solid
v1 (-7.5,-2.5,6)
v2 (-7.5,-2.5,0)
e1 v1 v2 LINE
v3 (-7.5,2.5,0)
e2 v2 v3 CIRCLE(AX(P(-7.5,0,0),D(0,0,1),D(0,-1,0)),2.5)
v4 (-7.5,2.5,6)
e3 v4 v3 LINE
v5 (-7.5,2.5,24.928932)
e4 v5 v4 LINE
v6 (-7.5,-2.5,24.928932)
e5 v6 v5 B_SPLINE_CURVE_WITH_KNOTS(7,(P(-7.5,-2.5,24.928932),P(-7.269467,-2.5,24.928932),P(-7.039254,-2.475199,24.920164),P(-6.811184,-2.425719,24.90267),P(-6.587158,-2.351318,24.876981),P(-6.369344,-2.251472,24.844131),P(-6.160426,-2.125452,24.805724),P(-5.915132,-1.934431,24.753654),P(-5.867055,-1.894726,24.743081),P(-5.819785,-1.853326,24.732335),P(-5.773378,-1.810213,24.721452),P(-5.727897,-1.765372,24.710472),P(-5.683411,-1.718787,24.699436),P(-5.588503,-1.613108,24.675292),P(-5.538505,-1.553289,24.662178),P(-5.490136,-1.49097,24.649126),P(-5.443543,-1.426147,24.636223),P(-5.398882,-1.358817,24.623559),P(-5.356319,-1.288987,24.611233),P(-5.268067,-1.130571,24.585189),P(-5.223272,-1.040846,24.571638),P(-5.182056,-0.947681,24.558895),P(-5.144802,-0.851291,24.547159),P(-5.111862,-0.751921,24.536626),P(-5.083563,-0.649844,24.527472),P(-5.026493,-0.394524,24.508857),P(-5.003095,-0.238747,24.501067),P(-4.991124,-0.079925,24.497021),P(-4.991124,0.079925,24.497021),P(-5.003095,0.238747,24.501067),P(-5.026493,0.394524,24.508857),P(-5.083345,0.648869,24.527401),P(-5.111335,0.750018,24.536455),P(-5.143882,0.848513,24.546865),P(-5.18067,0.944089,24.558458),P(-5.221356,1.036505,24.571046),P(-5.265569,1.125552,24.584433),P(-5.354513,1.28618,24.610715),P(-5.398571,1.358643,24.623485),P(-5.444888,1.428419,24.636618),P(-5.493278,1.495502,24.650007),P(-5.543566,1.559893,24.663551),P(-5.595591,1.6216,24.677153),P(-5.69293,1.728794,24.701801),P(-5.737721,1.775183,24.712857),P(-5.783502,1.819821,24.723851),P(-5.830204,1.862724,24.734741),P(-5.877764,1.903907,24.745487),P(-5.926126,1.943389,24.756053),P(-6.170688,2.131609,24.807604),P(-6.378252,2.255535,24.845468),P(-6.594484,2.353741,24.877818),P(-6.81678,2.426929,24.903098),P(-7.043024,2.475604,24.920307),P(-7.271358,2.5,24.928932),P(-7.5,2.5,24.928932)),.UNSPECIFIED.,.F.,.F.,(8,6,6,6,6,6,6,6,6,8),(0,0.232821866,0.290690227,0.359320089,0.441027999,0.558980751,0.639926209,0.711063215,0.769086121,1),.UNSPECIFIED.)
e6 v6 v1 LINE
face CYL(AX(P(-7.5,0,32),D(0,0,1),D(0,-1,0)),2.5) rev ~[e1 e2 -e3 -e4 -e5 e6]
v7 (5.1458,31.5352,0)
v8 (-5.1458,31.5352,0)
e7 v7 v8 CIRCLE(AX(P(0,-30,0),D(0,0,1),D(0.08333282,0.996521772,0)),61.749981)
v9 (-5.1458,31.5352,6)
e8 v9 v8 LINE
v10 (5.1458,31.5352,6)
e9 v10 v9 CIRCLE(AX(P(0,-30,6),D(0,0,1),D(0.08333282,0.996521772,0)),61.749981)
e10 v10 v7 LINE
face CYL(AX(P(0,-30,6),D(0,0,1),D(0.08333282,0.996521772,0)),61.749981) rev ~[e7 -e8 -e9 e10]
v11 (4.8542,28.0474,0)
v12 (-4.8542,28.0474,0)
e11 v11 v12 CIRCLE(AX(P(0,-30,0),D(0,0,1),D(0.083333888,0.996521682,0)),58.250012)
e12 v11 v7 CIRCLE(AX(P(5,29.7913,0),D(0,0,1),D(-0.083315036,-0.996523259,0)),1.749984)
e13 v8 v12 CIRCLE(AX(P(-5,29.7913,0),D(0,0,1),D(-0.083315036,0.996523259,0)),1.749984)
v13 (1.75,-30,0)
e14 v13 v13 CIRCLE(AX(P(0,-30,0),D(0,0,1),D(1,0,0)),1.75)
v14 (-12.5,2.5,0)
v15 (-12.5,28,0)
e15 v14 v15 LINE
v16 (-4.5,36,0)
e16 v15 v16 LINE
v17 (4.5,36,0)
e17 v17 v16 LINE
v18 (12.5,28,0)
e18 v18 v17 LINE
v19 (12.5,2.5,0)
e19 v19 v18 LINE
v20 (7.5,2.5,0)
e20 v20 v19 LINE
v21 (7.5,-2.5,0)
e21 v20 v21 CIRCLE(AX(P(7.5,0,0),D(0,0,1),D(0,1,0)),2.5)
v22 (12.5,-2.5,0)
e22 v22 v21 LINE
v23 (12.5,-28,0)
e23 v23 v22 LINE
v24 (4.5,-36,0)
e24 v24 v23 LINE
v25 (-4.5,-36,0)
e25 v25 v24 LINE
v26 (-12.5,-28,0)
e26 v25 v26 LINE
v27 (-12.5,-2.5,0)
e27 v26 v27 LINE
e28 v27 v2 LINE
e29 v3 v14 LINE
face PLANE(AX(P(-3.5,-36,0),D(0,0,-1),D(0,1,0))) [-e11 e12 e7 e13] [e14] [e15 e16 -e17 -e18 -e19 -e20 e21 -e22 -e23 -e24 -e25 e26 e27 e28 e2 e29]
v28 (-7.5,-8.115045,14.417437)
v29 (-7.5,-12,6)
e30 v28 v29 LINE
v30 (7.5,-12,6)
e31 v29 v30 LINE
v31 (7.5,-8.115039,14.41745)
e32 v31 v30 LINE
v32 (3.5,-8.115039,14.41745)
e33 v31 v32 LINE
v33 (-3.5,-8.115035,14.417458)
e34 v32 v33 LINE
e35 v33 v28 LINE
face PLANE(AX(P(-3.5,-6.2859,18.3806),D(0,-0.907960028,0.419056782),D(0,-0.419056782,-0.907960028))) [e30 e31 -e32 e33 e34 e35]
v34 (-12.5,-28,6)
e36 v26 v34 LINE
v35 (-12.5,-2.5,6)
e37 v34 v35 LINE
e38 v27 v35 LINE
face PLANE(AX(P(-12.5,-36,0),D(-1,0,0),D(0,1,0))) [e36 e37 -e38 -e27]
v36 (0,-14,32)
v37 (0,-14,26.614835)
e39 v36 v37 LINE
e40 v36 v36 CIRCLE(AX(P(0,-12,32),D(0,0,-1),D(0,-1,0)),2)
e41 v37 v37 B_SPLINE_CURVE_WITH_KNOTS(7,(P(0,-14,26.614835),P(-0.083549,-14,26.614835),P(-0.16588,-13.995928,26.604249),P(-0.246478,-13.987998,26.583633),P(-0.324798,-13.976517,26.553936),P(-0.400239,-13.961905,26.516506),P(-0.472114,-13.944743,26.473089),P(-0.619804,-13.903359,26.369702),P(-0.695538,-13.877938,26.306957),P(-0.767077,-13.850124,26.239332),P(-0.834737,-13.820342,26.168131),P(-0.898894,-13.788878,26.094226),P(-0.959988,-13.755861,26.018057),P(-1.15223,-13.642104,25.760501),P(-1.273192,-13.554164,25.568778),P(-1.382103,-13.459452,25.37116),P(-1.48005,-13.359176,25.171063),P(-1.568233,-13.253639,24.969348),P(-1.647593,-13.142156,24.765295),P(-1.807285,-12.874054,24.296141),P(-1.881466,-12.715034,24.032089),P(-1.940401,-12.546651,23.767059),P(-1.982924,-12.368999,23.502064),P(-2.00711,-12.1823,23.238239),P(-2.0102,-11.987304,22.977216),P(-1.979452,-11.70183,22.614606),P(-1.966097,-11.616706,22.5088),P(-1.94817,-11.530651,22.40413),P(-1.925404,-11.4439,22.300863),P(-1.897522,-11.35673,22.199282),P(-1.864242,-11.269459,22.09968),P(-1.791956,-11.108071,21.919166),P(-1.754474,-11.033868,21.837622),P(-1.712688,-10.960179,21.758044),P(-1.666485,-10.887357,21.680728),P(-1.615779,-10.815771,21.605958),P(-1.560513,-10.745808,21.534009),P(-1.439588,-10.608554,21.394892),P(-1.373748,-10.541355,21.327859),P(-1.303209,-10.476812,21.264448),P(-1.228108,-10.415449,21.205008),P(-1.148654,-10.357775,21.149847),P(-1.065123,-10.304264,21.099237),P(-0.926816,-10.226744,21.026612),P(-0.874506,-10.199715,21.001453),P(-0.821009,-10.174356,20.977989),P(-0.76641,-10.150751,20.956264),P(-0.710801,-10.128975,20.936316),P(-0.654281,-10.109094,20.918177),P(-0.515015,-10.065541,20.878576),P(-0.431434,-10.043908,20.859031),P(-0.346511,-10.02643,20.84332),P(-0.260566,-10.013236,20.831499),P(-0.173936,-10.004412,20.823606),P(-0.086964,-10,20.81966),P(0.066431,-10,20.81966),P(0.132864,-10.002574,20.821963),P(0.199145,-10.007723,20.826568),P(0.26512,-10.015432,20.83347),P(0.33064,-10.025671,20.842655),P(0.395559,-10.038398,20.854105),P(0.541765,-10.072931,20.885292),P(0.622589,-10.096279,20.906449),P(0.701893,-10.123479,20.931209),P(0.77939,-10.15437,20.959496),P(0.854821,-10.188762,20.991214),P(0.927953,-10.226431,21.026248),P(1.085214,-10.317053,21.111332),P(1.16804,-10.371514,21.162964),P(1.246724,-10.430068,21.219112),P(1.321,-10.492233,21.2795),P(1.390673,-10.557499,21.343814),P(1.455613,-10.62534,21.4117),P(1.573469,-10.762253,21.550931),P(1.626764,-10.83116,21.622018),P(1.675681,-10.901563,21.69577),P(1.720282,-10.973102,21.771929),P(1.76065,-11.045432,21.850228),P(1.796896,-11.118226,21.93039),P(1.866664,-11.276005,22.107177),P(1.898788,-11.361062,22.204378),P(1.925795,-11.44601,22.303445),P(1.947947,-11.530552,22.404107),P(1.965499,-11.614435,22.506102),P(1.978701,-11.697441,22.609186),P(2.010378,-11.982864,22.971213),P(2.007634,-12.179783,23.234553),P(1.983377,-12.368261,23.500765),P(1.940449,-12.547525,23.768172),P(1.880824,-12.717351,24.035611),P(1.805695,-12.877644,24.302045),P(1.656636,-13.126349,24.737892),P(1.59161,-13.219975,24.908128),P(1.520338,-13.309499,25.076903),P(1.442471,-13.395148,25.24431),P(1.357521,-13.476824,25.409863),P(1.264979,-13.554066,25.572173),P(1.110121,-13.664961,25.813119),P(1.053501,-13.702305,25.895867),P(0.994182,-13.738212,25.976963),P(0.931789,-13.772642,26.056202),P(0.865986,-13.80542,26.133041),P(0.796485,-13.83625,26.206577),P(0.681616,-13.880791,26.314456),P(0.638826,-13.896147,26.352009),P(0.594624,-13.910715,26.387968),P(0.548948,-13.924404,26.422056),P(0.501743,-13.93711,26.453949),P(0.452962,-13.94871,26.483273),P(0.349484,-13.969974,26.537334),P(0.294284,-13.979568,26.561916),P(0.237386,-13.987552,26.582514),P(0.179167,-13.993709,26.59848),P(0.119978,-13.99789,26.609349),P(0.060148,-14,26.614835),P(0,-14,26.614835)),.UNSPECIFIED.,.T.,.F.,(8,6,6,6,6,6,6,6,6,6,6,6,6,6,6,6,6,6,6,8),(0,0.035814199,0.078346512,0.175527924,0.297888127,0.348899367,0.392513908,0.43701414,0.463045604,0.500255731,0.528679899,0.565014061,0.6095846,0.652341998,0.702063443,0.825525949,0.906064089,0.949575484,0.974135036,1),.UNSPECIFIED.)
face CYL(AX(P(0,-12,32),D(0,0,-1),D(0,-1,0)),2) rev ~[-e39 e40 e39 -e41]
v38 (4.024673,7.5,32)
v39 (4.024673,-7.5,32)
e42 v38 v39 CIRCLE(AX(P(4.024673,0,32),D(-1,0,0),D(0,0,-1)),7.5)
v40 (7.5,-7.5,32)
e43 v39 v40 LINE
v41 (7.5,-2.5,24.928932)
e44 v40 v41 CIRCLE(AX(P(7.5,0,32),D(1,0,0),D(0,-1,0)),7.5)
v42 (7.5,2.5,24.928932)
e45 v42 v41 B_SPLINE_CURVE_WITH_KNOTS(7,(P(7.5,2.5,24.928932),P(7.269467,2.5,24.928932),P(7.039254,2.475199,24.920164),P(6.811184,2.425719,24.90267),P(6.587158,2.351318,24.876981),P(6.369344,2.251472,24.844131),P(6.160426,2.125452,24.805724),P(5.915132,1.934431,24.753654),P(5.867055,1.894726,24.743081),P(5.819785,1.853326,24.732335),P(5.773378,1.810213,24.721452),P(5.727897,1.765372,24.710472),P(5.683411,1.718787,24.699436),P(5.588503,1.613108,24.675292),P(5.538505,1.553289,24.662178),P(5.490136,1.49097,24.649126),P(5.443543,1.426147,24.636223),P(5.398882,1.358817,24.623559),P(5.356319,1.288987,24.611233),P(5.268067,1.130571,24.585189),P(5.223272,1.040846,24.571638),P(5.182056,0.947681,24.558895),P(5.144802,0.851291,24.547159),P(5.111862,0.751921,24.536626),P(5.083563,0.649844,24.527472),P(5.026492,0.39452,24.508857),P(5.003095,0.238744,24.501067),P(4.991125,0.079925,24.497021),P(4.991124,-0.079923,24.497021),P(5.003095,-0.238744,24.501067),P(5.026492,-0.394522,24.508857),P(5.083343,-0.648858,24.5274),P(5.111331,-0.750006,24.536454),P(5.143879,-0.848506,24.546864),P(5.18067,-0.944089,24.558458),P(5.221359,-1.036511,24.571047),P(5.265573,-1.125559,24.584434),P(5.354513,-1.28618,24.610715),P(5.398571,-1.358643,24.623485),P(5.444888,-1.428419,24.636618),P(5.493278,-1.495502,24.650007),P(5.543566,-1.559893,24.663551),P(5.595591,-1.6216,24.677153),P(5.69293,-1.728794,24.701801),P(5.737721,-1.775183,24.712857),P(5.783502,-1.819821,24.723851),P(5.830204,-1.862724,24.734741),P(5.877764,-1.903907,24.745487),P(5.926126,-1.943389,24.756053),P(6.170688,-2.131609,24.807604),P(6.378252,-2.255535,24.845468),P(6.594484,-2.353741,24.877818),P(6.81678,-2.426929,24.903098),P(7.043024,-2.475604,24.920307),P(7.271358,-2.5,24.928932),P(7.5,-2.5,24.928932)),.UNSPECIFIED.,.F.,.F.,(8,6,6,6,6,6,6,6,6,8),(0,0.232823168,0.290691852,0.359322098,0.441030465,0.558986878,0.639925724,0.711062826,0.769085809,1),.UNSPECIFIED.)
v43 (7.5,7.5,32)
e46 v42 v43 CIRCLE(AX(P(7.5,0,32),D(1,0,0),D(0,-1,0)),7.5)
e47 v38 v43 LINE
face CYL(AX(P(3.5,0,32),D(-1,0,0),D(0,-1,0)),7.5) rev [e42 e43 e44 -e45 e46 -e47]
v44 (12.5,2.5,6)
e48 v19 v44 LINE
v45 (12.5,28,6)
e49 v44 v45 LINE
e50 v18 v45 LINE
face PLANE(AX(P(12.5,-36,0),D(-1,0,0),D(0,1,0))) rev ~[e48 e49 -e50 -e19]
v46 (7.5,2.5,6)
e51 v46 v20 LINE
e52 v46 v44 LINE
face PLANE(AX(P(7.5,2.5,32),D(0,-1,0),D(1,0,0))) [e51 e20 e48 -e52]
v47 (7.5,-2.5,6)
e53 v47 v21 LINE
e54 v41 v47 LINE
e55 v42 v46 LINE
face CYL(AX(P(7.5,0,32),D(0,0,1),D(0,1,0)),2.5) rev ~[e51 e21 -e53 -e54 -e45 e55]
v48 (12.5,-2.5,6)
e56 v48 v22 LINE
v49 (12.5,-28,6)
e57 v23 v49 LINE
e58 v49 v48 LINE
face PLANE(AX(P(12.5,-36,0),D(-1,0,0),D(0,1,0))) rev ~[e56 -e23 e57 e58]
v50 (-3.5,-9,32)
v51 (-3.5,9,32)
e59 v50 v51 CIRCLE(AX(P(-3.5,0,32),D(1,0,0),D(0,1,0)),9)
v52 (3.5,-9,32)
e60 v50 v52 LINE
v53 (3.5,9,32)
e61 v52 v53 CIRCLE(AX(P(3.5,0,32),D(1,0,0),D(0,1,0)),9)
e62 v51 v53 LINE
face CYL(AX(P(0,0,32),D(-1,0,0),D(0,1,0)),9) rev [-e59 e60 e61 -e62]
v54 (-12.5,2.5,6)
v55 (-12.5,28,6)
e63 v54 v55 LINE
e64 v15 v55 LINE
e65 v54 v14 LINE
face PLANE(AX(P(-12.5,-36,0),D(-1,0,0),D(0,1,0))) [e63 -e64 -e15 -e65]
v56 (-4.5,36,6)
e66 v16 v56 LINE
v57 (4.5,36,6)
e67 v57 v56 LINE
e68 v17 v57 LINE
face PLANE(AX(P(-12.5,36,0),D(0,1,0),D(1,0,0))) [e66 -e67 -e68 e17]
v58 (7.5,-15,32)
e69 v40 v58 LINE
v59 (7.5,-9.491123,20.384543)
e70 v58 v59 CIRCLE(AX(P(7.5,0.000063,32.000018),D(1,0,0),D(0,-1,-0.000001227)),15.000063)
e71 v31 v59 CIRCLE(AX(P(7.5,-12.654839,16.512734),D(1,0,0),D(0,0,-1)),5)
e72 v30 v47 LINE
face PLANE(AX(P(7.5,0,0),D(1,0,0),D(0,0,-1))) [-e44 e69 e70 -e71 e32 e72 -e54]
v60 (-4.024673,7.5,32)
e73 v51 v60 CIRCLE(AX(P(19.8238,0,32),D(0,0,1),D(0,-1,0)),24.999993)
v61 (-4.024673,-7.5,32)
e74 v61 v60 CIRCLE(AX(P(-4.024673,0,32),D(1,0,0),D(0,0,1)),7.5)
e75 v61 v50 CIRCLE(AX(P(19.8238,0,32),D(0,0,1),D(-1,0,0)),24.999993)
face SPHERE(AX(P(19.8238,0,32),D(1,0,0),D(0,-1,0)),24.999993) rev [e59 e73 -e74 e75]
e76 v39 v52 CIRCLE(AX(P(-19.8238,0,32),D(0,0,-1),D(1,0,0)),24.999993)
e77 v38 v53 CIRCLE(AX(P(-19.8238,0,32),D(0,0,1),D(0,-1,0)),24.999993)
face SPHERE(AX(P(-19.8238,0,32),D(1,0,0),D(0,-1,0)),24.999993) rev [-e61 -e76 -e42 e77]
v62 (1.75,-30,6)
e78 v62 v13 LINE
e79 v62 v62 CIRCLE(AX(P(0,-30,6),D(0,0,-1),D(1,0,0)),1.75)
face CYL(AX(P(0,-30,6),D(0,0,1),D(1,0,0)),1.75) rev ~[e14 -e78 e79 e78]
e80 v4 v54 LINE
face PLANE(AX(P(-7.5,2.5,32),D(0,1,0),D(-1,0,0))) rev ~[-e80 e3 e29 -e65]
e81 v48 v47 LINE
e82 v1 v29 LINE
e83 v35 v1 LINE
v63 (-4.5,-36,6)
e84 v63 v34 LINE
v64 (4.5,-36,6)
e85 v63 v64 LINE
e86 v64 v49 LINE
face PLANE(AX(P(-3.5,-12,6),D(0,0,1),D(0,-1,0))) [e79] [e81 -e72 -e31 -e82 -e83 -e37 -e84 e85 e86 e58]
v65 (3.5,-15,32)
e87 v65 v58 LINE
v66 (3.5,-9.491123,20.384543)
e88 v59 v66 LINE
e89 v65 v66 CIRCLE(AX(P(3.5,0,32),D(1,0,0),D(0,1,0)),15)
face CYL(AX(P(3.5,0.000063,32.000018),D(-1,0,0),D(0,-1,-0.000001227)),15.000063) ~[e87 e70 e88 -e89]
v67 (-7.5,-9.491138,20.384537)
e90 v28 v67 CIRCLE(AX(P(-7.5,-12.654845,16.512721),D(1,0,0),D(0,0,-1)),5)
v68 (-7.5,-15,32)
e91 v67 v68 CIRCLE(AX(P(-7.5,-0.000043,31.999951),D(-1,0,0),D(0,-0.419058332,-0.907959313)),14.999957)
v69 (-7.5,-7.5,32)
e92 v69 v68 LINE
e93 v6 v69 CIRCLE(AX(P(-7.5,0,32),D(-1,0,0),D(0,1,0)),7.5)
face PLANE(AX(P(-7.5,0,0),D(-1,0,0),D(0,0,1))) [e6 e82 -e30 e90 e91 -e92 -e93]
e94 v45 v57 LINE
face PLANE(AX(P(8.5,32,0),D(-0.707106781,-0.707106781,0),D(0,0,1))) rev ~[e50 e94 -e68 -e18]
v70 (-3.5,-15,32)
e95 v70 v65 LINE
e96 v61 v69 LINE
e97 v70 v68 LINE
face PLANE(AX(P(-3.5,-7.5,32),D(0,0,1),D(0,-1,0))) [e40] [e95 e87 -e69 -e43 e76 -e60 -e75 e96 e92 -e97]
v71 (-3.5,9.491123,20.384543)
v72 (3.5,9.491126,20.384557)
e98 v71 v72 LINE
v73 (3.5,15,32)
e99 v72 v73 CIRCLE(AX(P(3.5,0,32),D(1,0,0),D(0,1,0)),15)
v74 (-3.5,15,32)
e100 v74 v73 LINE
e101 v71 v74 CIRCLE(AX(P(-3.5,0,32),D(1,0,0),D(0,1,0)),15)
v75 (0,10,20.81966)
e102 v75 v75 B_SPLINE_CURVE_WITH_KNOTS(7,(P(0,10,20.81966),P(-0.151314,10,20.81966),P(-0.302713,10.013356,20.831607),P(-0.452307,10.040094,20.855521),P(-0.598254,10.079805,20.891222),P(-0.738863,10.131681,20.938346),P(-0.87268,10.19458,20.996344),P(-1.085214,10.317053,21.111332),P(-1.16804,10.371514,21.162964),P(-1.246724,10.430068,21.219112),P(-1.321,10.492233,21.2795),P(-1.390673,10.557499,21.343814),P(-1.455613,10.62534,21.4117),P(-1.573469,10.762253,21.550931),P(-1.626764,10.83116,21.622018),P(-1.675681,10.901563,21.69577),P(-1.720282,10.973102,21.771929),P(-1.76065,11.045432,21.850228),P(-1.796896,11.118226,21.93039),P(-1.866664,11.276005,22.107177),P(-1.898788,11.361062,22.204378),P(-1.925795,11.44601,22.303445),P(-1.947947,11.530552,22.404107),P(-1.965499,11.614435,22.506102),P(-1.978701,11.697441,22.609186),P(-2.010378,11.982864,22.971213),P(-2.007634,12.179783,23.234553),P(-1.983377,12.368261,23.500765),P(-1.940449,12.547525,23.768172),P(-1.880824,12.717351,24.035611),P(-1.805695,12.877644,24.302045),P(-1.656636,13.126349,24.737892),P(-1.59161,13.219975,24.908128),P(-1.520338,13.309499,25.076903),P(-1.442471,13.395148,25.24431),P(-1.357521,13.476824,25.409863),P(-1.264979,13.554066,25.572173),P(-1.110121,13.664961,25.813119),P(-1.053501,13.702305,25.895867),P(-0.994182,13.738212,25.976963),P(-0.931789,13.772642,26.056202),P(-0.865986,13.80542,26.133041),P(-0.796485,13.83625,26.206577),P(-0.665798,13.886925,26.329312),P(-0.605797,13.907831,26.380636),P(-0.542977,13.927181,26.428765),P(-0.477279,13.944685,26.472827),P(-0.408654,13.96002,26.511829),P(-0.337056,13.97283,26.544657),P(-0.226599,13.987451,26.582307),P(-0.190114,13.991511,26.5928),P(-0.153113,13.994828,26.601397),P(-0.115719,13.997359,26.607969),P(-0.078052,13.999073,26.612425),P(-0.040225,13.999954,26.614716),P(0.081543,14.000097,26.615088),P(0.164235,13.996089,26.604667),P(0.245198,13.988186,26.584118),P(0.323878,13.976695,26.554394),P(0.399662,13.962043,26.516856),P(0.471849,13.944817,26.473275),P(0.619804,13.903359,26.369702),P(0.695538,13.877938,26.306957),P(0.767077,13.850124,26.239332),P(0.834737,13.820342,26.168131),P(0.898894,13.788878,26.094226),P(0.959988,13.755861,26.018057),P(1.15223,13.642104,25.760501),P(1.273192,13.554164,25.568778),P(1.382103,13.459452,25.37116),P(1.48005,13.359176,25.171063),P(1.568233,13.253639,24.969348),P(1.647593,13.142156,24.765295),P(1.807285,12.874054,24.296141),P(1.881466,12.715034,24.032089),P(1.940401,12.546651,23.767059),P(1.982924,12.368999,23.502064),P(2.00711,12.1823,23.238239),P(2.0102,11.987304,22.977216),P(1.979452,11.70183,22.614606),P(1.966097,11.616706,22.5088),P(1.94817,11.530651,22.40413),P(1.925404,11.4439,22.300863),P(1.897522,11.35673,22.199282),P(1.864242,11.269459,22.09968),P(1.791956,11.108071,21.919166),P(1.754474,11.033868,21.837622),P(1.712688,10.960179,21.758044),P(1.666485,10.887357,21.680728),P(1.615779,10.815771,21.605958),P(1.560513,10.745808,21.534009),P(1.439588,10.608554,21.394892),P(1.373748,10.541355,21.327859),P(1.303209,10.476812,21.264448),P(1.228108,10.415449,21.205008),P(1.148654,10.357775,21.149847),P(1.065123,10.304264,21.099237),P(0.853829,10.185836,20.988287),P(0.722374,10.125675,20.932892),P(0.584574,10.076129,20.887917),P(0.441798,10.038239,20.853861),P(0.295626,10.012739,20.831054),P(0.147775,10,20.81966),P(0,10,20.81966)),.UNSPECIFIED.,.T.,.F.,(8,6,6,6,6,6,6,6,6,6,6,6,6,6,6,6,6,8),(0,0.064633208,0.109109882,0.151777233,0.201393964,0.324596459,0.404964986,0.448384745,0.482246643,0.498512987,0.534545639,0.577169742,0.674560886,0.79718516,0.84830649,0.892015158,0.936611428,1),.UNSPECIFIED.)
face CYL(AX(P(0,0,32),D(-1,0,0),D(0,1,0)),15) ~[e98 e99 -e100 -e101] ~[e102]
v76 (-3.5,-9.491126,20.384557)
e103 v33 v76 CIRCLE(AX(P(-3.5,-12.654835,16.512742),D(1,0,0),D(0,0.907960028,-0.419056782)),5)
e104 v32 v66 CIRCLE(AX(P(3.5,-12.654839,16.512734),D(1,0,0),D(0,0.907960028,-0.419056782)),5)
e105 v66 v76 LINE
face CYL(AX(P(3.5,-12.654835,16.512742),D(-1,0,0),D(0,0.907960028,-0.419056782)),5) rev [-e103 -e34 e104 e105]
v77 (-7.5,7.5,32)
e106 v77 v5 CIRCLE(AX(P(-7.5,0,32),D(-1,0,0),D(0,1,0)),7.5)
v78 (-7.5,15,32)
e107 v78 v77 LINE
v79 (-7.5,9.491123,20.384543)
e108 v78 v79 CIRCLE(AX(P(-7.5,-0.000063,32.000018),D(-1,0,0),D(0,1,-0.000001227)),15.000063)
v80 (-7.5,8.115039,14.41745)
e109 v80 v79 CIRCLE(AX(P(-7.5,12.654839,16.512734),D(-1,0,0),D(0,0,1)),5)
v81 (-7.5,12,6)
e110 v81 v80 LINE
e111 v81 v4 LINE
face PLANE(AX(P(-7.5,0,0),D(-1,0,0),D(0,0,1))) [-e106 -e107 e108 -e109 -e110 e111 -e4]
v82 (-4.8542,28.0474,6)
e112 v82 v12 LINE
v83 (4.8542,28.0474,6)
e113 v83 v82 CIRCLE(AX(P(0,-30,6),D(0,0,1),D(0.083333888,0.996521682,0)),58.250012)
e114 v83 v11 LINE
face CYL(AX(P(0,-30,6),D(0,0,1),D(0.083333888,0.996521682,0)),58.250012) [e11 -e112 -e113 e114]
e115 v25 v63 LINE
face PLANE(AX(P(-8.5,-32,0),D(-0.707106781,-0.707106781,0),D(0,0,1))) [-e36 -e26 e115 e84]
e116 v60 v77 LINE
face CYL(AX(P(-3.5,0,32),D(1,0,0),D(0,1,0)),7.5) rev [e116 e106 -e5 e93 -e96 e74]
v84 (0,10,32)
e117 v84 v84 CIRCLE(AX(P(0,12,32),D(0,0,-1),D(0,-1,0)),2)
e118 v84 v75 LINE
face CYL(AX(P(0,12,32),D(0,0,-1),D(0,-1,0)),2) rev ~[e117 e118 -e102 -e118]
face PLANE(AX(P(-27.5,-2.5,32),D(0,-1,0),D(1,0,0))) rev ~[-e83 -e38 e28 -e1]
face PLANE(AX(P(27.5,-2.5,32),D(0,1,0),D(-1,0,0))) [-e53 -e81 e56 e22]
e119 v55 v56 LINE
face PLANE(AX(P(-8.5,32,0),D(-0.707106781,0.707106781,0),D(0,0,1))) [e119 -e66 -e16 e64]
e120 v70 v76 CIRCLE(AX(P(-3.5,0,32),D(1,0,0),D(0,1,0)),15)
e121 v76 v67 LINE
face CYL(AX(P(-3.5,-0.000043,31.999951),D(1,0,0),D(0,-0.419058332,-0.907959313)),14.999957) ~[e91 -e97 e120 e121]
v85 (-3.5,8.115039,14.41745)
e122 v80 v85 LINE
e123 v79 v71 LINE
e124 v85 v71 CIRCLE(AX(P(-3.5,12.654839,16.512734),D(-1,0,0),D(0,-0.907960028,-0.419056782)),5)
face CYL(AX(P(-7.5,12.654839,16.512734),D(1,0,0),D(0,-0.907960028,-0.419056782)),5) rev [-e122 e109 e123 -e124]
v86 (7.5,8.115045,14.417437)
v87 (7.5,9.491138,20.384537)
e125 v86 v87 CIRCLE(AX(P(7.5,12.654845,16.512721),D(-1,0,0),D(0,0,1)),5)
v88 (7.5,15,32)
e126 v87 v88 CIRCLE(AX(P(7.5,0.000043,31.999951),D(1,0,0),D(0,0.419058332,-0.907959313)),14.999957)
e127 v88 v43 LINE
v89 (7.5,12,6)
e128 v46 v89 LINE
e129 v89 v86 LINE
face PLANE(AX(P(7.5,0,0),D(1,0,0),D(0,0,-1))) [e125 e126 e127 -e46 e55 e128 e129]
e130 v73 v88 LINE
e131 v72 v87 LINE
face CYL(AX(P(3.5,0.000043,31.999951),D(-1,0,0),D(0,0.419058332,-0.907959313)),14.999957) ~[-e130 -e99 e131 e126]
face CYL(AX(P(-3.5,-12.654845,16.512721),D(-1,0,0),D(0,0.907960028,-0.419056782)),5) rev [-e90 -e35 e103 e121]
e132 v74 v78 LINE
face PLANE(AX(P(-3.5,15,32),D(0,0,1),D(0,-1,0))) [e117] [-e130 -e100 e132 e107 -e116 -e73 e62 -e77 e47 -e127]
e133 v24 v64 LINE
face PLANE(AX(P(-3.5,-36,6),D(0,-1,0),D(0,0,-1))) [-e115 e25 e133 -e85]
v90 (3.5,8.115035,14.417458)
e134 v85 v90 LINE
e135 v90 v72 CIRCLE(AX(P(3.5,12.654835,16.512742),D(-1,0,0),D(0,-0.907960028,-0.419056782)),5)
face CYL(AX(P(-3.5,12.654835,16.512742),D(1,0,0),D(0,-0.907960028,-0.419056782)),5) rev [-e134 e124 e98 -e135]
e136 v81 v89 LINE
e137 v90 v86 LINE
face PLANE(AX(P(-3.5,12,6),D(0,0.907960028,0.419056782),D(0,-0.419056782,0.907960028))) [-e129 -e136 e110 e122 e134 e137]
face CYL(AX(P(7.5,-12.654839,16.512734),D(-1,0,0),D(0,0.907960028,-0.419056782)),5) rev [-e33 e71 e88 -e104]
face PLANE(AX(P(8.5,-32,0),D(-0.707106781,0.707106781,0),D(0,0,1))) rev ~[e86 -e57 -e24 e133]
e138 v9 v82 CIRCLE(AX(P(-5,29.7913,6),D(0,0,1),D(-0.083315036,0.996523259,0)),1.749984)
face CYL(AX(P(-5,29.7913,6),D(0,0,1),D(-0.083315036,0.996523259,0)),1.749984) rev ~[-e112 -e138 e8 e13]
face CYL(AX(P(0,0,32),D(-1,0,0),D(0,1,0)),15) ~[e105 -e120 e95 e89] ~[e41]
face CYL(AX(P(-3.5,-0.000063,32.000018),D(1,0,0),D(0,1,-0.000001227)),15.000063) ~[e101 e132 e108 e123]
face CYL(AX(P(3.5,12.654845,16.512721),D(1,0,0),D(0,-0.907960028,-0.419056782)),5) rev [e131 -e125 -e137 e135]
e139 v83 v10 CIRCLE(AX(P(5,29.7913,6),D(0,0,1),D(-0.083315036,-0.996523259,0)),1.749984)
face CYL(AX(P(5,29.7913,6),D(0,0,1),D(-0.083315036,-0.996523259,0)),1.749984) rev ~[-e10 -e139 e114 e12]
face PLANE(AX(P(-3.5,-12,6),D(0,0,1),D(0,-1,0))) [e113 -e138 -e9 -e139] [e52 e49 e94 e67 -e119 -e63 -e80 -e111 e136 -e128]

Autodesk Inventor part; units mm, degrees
ref_plane "YZ Plane" through (0, 0, 0) normal (1, 0, 0) x (0, 1, 0)
ref_plane "XZ Plane" through (0, 0, 0) normal (0, 1, 0) x (-1, 0, 0)
ref_plane "XY Plane" through (0, 0, 0) normal (0, 0, 1) x (1, 0, 0)
sketch "Sketch1" plane through (0, 0, 0) normal (1, 0, 0) x (0, 1, 0)
  line L0 (-36, 0) -> (36, 0)
  line L1 (36, 0) -> (36, 6)
  line L2 (36, 6) -> (-36, 6)
  line L3 (-36, 6) -> (-36, 0)
  circle A0 centre (0, 32) radius 9
  circle A1 centre (0, 32) radius 15
  line L4 (0, 32) -> (3.7715, 23.8284) construction
  line L5 (6.2859, 18.3806) -> (12, 6)
  line L6 (0, 32) -> (-3.7715, 23.8284) construction
  line L7 (-6.2859, 18.3806) -> (-12, 6)
  line L8 (15, 32) -> (9, 32)
  line L9 (-9, 32) -> (-15, 32)
  point P0 (0, 0)
  point P1 (0, 0)
  point P2 (12, 32)
  dimension "d3" = 18
  dimension "d4" = 32
  dimension "d5" = 6
  dimension "d6" = 72
  dimension "d7" = 6
  dimension "d44" = 12
  dimension "d45" = 12
extrude "Extrusion1" add sketch "Sketch1" along normal mid plane 7 contours L3 L2 L1 L0 | L7 A1 L5 L2 | A1 L9 A0 L8 picked at (12.871, 30.8714)
sketch "Sketch2" plane through (3.5, 0, 0) normal (1, 0, 0) x (0, 0, -1)
  line L0 (-6, 36) -> (-6, 12) projected
  line L1 (-6, 12) -> (-18.3806, 6.2859) projected
  arc A0 (-18.3806, 6.2859) -> (-32, 15) centre (-32, 0) ccw projected
  line L2 (-32, 15) -> (-32, 9) projected
  arc A1 (-32, -9) -> (-32, 9) centre (-32, 0) ccw projected
  line L3 (-32, -9) -> (-32, -15) projected
  arc A2 (-32, -15) -> (-18.3806, -6.2859) centre (-32, 0) ccw projected
  line L4 (-18.3806, -6.2859) -> (-6, -12) projected
  line L5 (-6, -12) -> (-6, -36) projected
  line L6 (-6, -36) -> (0, -36) projected
  line L7 (0, -36) -> (0, 36) projected
  line L8 (0, 36) -> (-6, 36) projected
  arc A3 (-32, -7.5) -> (-32, 7.5) centre (-32, 0) ccw
  line L9 (-32, 9) -> (-32, 7.5)
  line L10 (-32, -9) -> (-32, -15) projected
  line L11 (-32, -7.5) -> (-32, -9)
  point P0 (0, 0)
  dimension "d14" = 1.5
extrude "Extrusion2" add sketch "Sketch2" along normal blind 4
sketch "Sketch3" plane through (-3.5, 0, 0) normal (-1, 0, 0) x (0, 0, 1)
  arc A0 (18.3806, -6.2859) -> (32, -15) centre (32, 0) ccw projected
  line L0 (18.3806, -6.2859) -> (6, -12) projected
  line L1 (6, -12) -> (6, -36) projected
  line L2 (6, -36) -> (0, -36) projected
  line L3 (0, -36) -> (0, 36) projected
  line L4 (0, 36) -> (6, 36) projected
  line L5 (6, 36) -> (6, 12) projected
  line L6 (6, 12) -> (18.3806, 6.2859) projected
  arc A1 (32, 15) -> (18.3806, 6.2859) centre (32, 0) ccw projected
  line L7 (32, 15) -> (32, 7.5) projected
  arc A2 (32, 7.5) -> (32, -7.5) centre (32, 0) ccw projected
  line L8 (32, -7.5) -> (32, -15) projected
  point P0 (0, 0)
extrude "Extrusion3" add sketch "Sketch3" along normal blind 4
sketch "Sketch4" plane through (7.5, -36, 0) normal (0, 0, -1) x (-1, 0, 0)
  line L0 (15, 72) -> (15, 0) projected
  line L1 (0, 0) -> (0, 72) projected
  line L2 (15, 0) -> (20, 0)
  line L3 (20, 0) -> (20, 72)
  line L4 (20, 72) -> (15, 72)
  line L5 (15, 72) -> (15, 0)
  line L6 (0, 0) -> (-5, 0)
  line L7 (-5, 0) -> (-5, 72)
  line L8 (-5, 72) -> (0, 72)
  line L9 (0, 72) -> (0, 0)
  point P0 (7.5, 36)
  dimension "d17" = 25
extrude "Extrusion4" add sketch "Sketch4" against normal up to surface (6 mm away)
sketch "Sketch5" plane through (3.5, -9, 32) normal (0, 0, 1) x (1, 0, 0)
  line L0 (4, 9) -> (-11, 9)
  line L1 (-11, 9) -> (-31, 9) construction
  line L2 (-11, 1.5) -> (-11, 16.5) projected
  line L3 (-11, 11.5) -> (-31, 11.5)
  line L4 (-31, 6.5) -> (-11, 6.5)
  arc A0 (-11, 6.5) -> (-11, 11.5) centre (-11, 9) ccw
  arc A1 (-31, 11.5) -> (-31, 6.5) centre (-31, 9) ccw
  line L5 (4, 9) -> (24, 9) construction
  line L6 (4, 11.5) -> (24, 11.5)
  line L7 (24, 6.5) -> (4, 6.5)
  arc A2 (4, 11.5) -> (4, 6.5) centre (4, 9) ccw
  arc A3 (24, 6.5) -> (24, 11.5) centre (24, 9) ccw
  point P0 (-3.5, 9)
  point P1 (-3.5, 9)
  point P2 (-21, 9)
  point P3 (14, 9)
  dimension "d20" = 15
  dimension "d52" = 20
  dimension "d53" = 20
  dimension "d54" = 5
sketch "Sketch8" plane through (3.5, -9, 32) normal (0, 0, 1) x (1, 0, 0)
  line L0 (-11, -6) -> (4, -6) projected
  line L1 (4, 1.5) -> (4, -6) projected
  line L2 (0, 1.5) -> (4, 1.5) projected
  line L3 (0, 1.5) -> (0, 0) projected
  line L4 (-7, 0) -> (0, 0) projected
  line L5 (-7, 0) -> (-7, 1.5) projected
  line L6 (-7, 1.5) -> (-11, 1.5) projected
  line L7 (-11, -6) -> (-11, 1.5) projected
  line L8 (-7, 18) -> (0, 18) projected
  line L9 (0, 18) -> (0, 16.5) projected
  line L10 (0, 16.5) -> (4, 16.5) projected
  line L11 (4, 24) -> (4, 16.5) projected
  line L12 (-11, 24) -> (4, 24) projected
  line L13 (-11, 16.5) -> (-11, 24) projected
  line L14 (-7, 16.5) -> (-11, 16.5) projected
  line L15 (-7, 16.5) -> (-7, 18) projected
  line L16 (-7, 0) -> (0, 0) projected
  line L17 (-3.5, 0) -> (-3.5, -6)
  line L18 (-7, 18) -> (0, 18) projected
  line L19 (-3.5, 18) -> (-3.5, 24)
  line L20 (-11, 24) -> (4, 24) projected
  line L21 (-16, -27) -> (9, -27) projected
  line L22 (-16, 45) -> (9, 45) projected
  point P0 (-3.5, 9)
  point P1 (-3.5, -3)
  point P2 (-3.5, 21)
hole "Hole2" at (0, -12, 32) at (0, 12, 32) direction (0, 0, -1) diameter 4 depth 16
sketch "Sketch6" plane through (3.5, -9, 32) normal (0, 0, 1) x (1, 0, 0)
  line L0 (-11, -6) -> (4, -6) projected
  line L1 (4, 1.5) -> (4, -6) projected
  line L2 (0, 1.5) -> (4, 1.5) construction
  line L3 (0, 1.5) -> (0, 0) projected
  line L4 (-7, 0) -> (0, 0) projected
  line L5 (-7, 0) -> (-7, 1.5) projected
  line L6 (-7, 1.5) -> (-11, 1.5) construction
  line L7 (-11, -6) -> (-11, 1.5) projected
  line L8 (9, 45) -> (9, -27) projected
  line L9 (9, 9) -> (-16, 9)
  line L10 (-16, -27) -> (-16, 45) projected
  line L11 (-7, 18) -> (0, 18) projected
  line L12 (0, 18) -> (0, 16.5) projected
  line L13 (0, 16.5) -> (4, 16.5) projected
  line L14 (4, 24) -> (4, 16.5) projected
  line L15 (-11, 24) -> (4, 24) projected
  line L16 (-11, 16.5) -> (-11, 24) projected
  line L17 (-7, 16.5) -> (-11, 16.5) projected
  line L18 (-7, 16.5) -> (-7, 18) projected
  line L19 (0, 1.5) -> (4, 1.5) projected
  line L20 (0, 16.5) -> (0, 1.5) projected
  line L21 (-7, 1.5) -> (-7, 16.5) projected
  line L22 (-7, 1.5) -> (-11, 1.5) projected
  arc A0 (0, 0) -> (0, 18) centre (-23.3238, 9) ccw
  arc A1 (-7, 18) -> (-7, 0) centre (16.3238, 9) ccw
  point P0 (-3.5, 9)
  point P1 (-7, 9)
  point P2 (-8.6762, 9)
  point P3 (1.6762, 9)
  point P4 (0, 9)
  dimension "d30" = 25
  dimension "d31" = 25
revolve "Revolution1" cut sketch "Sketch6" angle 360 about axis through (12.5, 0, 32) along (-1, 0, 0) contours A1 L9 L21 L22 | L22 L5 A1 | A0 L3 L19 | L19 L20 L9 A0
fillet "Fillet1" radius 5 2 edges at (0, 6.2859, 18.3806) (0, -6.2859, 18.3806)
sketch "Sketch10" plane through (-12.5, 36, 6) normal (0, 0, 1) x (1, 0, 0)
  line L0 (12.5, -66) -> (12.5, -6)
  line L1 (0, 0) -> (25, 0) projected
  circle A0 centre (12.5, -66) radius 1.75
  arc A1 (17.5, -6.2087) -> (7.5, -6.2087) centre (12.5, -66) ccw construction
  arc A2 (17.6458, -4.4648) -> (7.3542, -4.4648) centre (12.5, -66) ccw
  arc A3 (17.3542, -7.9526) -> (7.6458, -7.9526) centre (12.5, -66) ccw
  arc A4 (17.3542, -7.9526) -> (17.6458, -4.4648) centre (17.5, -6.2087) ccw
  arc A5 (7.3542, -4.4648) -> (7.6458, -7.9526) centre (7.5, -6.2087) ccw
  point P0 (12.5, -36)
  point P1 (12.5, -36)
  dimension "d46" = 60
  dimension "d47" = 3.5
  dimension "d48" = 3.5
  dimension "d49" = 5
extrude "Extrusion5" cut sketch "Sketch10" against normal through all
extrude "Extrusion6" cut sketch "Sketch5" against normal up to surface (32 mm away)
chamfer "Chamfer1" distance 8 angle 45 4 edges at (12.5, 36, 3) (-12.5, 36, 3) (12.5, -36, 3) (-12.5, -36, 3)
equation "\"d3\" = LENS_D"
equation "\"d45\" = d44"
equation "\"d10\" = LENS_L"
equation "\"d30\" = LENS_R"
equation "\"d31\" = LENS_R"
equation "\"LENS_D\" = 18"
equation "\"LENS_L\" = 7"
equation "\"LENS_R\" = 25"
properties part number "LensHolder"
